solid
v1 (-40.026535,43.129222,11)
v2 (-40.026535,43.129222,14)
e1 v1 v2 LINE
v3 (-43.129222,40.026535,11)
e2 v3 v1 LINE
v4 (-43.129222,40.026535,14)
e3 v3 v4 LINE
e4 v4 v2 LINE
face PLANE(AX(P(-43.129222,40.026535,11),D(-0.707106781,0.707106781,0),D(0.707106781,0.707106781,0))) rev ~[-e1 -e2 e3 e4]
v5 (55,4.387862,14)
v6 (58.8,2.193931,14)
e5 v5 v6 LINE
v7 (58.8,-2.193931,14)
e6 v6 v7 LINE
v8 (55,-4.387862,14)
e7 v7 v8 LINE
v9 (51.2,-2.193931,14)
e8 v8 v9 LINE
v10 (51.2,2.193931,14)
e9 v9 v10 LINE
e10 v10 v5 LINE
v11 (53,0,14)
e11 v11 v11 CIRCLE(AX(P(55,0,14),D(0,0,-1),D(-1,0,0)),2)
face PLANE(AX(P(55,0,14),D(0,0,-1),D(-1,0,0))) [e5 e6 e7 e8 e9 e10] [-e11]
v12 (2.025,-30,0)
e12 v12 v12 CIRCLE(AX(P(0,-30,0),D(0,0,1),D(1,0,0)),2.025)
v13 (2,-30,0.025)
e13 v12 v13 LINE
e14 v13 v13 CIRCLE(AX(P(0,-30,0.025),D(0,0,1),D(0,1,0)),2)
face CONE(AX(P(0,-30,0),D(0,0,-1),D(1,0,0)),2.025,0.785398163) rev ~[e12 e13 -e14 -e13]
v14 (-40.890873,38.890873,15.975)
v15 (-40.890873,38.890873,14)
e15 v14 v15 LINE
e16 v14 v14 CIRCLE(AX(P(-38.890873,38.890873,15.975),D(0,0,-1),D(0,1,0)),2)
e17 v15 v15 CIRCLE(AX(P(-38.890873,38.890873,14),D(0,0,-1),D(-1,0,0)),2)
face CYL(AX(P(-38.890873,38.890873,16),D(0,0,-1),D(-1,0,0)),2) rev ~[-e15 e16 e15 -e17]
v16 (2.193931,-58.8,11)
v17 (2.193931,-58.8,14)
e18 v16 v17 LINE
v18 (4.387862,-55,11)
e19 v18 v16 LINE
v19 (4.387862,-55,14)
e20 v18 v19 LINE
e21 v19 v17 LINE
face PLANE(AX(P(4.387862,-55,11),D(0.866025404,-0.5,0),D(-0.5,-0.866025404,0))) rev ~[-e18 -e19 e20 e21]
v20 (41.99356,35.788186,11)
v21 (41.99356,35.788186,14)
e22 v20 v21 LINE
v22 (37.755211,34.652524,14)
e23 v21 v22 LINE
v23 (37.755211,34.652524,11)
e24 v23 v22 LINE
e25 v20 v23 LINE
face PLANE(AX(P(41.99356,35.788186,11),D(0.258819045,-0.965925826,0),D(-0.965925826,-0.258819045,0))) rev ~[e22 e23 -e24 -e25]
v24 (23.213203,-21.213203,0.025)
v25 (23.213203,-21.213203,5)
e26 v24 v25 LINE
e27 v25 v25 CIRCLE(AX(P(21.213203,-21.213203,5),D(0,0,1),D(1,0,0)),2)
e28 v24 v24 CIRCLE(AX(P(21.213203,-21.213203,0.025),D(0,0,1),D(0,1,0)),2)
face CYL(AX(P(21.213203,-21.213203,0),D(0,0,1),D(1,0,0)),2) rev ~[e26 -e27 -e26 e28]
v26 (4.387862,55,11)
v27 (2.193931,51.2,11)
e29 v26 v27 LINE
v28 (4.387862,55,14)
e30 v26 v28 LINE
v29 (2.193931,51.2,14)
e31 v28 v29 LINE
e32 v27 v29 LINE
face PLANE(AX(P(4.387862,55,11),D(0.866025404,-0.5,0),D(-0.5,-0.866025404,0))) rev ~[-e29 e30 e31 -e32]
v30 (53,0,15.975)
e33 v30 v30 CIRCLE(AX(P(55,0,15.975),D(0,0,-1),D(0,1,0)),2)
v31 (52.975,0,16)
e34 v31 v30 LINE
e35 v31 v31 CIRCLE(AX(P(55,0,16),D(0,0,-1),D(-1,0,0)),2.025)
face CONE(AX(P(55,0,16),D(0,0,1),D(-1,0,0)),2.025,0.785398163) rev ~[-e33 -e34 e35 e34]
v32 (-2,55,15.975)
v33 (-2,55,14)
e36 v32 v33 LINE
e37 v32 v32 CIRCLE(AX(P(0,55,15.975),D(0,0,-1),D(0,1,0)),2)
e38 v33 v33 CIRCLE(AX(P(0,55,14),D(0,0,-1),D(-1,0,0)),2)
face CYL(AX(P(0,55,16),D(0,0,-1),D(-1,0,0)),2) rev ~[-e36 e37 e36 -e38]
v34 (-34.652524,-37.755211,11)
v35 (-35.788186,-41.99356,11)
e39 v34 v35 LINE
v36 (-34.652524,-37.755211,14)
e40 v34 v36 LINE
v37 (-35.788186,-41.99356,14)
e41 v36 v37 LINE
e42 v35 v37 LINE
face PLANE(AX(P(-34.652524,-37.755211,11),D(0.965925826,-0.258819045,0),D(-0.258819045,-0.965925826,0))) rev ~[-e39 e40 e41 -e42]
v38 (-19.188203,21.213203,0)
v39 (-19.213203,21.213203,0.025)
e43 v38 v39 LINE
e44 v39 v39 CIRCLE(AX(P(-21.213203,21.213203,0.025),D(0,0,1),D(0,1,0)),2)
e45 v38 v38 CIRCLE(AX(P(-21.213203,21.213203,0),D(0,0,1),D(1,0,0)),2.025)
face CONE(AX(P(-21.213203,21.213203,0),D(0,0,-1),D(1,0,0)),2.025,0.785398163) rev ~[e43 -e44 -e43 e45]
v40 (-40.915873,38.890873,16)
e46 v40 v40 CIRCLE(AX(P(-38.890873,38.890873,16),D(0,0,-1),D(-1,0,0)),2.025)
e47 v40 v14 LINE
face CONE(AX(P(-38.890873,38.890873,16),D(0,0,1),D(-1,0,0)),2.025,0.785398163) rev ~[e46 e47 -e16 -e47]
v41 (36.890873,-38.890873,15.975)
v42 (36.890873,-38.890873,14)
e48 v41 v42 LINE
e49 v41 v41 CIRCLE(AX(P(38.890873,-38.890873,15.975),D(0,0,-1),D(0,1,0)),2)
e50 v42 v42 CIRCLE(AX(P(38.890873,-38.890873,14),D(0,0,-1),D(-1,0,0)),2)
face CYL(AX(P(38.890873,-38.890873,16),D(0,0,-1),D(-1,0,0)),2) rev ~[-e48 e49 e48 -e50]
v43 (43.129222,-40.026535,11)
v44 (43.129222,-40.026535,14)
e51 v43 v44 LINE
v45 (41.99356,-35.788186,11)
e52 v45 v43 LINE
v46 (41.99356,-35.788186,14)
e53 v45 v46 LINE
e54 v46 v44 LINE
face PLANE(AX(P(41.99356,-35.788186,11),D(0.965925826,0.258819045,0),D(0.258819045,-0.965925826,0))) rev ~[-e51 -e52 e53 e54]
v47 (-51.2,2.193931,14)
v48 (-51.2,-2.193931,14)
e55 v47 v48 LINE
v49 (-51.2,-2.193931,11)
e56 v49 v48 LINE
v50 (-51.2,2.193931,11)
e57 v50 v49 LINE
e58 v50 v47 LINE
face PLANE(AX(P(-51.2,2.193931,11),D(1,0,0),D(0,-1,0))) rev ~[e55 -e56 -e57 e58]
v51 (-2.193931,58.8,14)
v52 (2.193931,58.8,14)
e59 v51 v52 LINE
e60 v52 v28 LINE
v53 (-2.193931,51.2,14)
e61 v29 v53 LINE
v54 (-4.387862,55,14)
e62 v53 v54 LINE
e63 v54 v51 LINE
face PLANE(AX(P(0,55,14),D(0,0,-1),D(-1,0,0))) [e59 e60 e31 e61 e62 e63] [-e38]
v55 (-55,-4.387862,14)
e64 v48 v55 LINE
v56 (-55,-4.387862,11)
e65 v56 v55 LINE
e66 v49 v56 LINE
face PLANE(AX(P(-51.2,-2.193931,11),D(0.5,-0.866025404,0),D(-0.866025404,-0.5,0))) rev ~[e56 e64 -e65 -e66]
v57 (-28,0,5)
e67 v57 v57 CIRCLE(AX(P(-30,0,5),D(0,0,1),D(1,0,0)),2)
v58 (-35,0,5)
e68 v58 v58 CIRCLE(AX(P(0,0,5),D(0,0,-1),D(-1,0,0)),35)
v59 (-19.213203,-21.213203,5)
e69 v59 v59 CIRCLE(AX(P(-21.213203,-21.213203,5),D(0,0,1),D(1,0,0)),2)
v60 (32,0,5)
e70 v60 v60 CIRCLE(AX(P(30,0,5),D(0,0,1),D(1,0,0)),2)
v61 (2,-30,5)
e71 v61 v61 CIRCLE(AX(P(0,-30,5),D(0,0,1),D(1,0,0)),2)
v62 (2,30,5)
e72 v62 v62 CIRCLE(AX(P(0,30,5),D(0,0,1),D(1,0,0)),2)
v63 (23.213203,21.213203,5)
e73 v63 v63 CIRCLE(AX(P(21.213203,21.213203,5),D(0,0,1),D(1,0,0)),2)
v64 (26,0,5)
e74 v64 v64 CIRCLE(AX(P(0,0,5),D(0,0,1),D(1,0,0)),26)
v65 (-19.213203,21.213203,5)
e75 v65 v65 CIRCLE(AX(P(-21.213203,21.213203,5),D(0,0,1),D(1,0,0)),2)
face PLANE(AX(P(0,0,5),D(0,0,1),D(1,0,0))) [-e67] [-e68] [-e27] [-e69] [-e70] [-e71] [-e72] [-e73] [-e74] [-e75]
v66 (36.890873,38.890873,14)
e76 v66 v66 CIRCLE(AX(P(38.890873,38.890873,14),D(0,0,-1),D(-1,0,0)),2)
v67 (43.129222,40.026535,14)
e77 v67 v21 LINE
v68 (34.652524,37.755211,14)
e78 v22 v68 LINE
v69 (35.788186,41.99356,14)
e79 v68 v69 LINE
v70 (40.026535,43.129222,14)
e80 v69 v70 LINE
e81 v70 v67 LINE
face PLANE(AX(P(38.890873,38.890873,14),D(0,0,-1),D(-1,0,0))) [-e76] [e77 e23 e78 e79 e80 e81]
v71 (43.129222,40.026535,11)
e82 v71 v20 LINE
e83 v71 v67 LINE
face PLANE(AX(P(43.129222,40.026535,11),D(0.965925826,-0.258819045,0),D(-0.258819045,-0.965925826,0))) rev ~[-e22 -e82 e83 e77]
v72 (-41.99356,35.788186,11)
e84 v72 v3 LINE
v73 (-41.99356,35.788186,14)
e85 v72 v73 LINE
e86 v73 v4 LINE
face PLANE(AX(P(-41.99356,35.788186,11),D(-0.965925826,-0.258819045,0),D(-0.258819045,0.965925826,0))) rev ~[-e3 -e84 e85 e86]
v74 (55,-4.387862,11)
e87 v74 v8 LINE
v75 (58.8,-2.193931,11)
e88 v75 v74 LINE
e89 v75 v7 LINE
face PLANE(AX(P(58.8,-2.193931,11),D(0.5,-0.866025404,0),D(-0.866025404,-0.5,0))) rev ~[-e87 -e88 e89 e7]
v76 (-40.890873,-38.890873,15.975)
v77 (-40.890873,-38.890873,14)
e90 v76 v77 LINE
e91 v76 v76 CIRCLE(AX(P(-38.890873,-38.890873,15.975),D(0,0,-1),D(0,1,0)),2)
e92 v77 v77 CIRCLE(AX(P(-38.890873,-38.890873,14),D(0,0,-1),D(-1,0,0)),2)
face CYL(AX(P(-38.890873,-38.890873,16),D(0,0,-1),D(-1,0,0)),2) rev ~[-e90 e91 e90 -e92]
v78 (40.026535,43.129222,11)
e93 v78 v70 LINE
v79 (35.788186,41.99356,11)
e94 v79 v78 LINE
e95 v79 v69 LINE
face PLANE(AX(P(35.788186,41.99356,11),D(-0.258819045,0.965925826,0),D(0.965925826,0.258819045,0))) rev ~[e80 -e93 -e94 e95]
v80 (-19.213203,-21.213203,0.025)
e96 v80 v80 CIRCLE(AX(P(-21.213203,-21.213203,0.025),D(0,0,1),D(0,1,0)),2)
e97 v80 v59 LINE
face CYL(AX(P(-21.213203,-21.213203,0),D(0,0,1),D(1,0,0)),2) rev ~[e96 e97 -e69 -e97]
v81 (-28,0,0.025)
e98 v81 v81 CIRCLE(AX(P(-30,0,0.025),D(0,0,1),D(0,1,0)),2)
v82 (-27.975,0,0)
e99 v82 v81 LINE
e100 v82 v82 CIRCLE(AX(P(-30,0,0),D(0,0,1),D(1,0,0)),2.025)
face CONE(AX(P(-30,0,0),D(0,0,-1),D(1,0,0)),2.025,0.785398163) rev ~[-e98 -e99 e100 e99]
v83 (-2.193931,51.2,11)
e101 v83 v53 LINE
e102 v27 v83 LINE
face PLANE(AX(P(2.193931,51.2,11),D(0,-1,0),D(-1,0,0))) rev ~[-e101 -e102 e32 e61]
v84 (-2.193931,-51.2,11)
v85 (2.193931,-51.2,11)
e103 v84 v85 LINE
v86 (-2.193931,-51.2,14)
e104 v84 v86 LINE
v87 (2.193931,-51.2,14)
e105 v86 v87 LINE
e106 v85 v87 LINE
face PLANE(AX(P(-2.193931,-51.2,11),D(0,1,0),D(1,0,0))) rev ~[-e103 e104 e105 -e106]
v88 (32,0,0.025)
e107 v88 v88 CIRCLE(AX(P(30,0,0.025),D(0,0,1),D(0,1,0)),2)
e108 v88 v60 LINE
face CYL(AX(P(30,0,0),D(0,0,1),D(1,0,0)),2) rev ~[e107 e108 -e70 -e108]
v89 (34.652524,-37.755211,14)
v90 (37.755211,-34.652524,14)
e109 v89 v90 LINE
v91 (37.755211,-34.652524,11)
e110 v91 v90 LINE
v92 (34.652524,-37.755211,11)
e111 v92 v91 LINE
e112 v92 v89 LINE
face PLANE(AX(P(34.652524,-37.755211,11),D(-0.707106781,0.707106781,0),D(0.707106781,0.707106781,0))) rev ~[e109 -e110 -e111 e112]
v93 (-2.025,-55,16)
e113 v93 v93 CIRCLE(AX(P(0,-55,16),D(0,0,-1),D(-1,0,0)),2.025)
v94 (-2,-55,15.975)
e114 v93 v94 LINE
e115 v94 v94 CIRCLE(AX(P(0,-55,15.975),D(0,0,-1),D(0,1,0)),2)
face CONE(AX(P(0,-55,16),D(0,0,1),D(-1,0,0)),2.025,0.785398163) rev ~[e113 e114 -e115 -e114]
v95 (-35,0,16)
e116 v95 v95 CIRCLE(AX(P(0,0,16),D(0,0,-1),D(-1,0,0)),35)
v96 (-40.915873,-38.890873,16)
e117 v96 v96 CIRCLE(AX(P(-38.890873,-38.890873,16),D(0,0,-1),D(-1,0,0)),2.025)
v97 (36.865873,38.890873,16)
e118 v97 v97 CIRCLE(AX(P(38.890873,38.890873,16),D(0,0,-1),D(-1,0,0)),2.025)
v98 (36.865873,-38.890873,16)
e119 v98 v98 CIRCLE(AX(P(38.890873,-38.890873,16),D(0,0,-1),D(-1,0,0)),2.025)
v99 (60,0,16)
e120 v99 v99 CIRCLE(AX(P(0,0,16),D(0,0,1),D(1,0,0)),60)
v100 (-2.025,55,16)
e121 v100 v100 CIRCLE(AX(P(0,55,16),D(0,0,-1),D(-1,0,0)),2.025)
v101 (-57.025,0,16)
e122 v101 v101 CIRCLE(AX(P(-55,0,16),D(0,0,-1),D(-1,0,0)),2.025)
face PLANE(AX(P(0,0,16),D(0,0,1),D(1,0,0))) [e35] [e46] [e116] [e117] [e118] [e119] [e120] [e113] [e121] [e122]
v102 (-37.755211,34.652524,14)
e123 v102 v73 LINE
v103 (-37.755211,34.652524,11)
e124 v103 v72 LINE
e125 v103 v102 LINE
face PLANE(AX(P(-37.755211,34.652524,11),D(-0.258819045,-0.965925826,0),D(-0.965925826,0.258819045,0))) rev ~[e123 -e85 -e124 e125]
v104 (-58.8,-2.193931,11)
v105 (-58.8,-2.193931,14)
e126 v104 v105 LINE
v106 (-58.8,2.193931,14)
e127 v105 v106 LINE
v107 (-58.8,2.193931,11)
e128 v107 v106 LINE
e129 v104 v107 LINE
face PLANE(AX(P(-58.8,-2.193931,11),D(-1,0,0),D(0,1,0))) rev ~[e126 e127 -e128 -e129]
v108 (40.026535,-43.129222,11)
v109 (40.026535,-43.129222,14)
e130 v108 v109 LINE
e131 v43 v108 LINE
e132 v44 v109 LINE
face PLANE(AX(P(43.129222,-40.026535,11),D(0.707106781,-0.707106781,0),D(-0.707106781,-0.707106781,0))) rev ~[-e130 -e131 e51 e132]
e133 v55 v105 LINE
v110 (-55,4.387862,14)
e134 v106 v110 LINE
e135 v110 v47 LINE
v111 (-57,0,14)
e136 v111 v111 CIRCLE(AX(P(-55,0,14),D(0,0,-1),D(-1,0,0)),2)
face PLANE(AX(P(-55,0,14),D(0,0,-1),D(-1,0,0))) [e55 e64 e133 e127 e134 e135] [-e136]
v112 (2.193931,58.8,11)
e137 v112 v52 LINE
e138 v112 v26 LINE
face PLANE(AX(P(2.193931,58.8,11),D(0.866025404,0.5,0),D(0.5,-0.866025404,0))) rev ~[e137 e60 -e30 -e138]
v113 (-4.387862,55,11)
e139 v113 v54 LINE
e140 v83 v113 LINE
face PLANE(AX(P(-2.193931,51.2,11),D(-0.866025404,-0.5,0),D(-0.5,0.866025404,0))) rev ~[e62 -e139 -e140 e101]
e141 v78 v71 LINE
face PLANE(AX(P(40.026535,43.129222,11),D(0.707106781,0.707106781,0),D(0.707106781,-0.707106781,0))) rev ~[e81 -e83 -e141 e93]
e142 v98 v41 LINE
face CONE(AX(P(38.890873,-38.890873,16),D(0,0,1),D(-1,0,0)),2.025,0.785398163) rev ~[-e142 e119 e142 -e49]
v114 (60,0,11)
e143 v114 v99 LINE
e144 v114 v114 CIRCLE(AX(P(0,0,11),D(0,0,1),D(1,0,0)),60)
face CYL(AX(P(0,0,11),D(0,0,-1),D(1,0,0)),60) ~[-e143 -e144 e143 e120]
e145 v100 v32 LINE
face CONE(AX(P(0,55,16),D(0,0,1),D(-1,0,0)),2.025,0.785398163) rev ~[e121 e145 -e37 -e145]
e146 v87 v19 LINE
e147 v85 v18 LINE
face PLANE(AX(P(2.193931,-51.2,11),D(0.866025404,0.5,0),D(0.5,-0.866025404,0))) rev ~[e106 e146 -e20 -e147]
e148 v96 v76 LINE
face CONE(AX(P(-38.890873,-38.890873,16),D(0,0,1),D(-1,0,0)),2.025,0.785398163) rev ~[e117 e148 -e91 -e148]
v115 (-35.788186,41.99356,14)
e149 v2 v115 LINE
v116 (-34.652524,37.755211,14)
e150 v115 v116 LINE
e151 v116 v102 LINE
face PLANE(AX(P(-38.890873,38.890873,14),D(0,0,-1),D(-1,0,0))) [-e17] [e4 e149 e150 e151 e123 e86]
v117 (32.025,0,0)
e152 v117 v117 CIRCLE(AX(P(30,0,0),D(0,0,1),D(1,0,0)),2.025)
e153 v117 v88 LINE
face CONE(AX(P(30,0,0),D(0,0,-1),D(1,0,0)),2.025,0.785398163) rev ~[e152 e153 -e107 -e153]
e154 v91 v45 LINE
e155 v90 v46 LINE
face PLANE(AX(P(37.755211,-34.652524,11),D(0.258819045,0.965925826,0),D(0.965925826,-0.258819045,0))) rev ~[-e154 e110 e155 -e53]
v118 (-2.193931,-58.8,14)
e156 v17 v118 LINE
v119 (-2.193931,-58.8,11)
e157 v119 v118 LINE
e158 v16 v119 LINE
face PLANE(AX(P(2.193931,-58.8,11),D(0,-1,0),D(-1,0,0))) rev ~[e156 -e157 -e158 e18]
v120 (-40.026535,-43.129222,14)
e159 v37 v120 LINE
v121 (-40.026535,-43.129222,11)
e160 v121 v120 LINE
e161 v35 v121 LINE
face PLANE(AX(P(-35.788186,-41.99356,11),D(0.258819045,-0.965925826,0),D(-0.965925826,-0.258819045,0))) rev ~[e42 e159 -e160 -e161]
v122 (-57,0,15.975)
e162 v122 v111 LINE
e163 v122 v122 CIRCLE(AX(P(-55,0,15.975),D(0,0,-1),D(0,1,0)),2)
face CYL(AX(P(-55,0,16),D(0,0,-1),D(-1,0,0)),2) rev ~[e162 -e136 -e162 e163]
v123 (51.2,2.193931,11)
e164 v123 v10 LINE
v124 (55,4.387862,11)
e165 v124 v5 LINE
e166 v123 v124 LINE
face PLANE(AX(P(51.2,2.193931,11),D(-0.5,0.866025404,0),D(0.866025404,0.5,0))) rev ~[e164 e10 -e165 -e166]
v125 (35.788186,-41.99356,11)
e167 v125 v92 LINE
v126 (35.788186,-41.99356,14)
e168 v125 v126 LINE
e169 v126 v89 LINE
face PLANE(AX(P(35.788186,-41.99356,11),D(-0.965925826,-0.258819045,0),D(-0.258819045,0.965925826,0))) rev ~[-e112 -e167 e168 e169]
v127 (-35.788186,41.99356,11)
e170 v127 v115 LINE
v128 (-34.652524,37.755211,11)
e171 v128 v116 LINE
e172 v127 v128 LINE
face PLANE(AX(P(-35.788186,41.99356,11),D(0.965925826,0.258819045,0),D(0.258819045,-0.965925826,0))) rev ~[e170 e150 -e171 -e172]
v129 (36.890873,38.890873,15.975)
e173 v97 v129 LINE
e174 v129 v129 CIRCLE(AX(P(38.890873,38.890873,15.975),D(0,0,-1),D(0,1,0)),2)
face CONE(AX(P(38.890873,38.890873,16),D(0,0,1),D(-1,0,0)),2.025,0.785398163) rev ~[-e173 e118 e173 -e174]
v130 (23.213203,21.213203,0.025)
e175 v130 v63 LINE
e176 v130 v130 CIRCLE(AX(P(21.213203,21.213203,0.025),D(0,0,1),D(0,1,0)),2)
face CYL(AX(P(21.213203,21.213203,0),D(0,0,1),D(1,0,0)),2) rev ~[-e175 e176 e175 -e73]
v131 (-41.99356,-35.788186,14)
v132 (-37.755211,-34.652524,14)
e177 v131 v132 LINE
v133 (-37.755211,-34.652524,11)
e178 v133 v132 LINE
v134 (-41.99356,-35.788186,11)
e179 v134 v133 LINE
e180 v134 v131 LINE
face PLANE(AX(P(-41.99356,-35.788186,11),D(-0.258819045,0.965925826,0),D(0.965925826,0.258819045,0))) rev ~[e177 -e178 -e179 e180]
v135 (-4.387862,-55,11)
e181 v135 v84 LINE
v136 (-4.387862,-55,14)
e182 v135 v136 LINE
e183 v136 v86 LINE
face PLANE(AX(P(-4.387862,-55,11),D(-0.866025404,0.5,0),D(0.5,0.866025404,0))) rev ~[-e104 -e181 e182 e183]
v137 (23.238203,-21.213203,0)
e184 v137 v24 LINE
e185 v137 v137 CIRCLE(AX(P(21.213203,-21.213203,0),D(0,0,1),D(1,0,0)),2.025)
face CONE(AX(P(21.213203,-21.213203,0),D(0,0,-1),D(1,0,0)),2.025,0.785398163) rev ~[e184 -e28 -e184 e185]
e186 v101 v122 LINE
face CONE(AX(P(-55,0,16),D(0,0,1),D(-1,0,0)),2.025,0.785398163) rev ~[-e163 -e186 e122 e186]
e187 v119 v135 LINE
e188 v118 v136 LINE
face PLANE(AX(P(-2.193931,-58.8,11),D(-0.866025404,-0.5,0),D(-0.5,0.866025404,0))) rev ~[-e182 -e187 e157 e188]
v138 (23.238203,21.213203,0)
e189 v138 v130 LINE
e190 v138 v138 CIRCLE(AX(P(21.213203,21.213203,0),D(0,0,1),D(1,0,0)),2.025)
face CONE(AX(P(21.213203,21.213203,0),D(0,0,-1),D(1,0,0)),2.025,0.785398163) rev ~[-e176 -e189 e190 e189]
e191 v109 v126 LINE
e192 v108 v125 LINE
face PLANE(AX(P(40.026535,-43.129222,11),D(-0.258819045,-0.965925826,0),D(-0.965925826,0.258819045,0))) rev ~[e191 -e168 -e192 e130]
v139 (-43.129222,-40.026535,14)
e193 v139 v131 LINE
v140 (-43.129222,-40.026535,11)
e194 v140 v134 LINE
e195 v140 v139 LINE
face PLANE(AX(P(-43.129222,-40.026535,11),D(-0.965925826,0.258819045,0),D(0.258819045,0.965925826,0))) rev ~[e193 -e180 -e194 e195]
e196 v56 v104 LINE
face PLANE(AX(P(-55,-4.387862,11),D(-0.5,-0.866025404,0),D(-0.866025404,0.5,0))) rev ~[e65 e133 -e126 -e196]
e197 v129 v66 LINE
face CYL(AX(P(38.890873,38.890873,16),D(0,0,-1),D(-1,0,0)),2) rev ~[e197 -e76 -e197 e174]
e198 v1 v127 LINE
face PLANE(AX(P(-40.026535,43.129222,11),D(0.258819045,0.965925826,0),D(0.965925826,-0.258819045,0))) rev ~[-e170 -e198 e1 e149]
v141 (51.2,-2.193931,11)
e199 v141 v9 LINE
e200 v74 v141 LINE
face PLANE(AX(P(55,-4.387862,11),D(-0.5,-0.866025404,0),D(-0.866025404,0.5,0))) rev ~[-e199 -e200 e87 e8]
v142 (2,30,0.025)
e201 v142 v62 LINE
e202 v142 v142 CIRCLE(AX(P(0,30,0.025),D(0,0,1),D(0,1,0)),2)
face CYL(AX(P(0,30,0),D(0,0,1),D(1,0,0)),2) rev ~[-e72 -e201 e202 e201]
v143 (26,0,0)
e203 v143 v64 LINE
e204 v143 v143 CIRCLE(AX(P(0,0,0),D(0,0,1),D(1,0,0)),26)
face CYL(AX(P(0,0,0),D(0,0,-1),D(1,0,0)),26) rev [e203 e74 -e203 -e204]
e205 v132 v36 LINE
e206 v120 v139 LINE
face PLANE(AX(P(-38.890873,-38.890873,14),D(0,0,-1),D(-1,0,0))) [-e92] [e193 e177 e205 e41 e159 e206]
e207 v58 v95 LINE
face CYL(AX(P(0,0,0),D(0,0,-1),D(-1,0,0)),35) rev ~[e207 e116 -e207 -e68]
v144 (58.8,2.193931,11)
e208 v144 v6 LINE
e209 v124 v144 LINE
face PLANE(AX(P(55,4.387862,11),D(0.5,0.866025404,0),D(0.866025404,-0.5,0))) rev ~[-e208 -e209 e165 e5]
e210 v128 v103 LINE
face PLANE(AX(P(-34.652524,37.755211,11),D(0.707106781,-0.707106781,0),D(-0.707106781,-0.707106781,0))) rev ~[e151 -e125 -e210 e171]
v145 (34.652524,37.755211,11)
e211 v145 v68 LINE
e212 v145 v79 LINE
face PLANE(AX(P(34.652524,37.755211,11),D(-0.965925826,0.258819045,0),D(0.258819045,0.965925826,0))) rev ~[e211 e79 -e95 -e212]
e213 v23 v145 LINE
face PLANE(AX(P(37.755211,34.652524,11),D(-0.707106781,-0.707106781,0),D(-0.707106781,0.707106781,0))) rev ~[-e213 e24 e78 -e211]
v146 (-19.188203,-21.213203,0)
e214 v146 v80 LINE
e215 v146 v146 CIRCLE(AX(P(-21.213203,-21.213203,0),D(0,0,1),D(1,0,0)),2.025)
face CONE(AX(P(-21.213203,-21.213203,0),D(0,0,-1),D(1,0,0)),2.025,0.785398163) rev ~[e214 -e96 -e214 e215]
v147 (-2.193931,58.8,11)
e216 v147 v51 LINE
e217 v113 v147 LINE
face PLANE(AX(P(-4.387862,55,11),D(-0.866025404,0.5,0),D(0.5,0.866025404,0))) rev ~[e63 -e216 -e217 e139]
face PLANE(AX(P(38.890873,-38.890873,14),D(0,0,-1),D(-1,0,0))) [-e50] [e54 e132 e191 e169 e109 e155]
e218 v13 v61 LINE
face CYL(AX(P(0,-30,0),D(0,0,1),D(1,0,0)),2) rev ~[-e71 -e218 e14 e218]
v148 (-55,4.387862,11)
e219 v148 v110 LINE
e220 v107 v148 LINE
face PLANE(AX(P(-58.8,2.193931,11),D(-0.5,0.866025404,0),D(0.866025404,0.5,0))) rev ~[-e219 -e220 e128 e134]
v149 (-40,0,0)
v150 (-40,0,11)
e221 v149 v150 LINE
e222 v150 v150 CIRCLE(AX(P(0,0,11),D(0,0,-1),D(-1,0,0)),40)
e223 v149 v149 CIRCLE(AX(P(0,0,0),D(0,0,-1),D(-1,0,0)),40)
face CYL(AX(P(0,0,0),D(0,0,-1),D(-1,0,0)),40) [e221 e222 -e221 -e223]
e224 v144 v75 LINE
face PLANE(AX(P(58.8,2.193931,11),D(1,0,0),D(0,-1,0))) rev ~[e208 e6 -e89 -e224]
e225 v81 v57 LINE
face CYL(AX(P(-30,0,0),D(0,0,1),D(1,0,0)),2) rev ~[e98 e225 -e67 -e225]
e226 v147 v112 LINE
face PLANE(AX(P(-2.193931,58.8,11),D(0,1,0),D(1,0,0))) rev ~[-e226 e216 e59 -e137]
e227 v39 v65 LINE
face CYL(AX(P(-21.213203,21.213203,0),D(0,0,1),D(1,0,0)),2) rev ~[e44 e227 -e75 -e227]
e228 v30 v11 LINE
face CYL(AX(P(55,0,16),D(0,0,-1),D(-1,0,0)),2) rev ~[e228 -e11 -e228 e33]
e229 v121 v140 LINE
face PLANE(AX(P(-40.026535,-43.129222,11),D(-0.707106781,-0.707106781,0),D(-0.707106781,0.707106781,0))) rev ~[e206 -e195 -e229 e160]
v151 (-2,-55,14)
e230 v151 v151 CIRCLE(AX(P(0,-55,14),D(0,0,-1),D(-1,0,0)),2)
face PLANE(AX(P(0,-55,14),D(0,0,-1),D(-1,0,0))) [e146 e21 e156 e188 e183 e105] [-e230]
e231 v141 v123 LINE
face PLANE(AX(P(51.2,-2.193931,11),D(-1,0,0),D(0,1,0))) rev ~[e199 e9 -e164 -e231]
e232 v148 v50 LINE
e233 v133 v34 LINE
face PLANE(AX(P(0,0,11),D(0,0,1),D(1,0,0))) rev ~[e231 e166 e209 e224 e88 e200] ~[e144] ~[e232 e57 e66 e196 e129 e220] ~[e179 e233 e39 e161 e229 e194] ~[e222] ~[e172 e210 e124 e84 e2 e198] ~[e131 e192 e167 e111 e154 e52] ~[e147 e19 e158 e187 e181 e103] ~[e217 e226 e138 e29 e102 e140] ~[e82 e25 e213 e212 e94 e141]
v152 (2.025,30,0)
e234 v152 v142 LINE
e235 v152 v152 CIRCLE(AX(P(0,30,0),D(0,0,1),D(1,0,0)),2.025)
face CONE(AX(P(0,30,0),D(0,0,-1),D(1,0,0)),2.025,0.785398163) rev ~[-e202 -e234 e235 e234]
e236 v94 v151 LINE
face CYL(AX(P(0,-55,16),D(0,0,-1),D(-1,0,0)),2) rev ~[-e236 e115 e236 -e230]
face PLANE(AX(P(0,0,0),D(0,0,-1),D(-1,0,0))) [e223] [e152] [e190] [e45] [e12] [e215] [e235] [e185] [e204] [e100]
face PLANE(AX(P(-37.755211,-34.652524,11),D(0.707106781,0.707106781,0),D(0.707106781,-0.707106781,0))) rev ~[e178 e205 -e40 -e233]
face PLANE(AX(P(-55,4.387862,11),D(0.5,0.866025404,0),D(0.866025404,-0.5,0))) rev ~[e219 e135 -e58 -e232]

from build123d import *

# Parameters (mm, degrees)
SKETCH1_R                       = 35
SKETCH1_R_2                     = 26
BOSS_EXTRUDE1_DEPTH             = 5
F_4_0MM_DOWEL_HOLE1_D           = 4
F_4_0MM_DOWEL_HOLE1_CSINK_D     = 4.05
F_4_0MM_DOWEL_HOLE1_CSINK_ANGLE = 90
SKETCH5_R                       = 40
SKETCH5_R_2                     = 35
BOSS_EXTRUDE2_DEPTH             = 16
BOSS_EXTRUDE3_START             = -5
SKETCH6_R                       = 60
SKETCH6_R_2                     = 35
BOSS_EXTRUDE3_DEPTH             = 5
F_4_0MM_DOWEL_HOLE2_D           = 4
F_4_0MM_DOWEL_HOLE2_CSINK_D     = 4.05
F_4_0MM_DOWEL_HOLE2_CSINK_ANGLE = 90
CUT_EXTRUDE3_DEPTH              = 3


with BuildPart() as part:
    # Sketch1 → Boss-Extrude1 (new body)
    with BuildSketch(Plane.XY):
        Circle(SKETCH1_R)
        Circle(SKETCH1_R_2, mode=Mode.SUBTRACT)
    extrude(amount=BOSS_EXTRUDE1_DEPTH)

    # Ø4.0mm Dowel Hole1 (through all)
    with Locations(Plane(origin=(0, 0, 0), x_dir=(-1, 0, 0), z_dir=(0, 0, -1))):
        with Locations((21.213203436, 21.213203436), (0, 30), (-21.213203436, 21.213203436), (-30, 0), (-21.213203436, -21.213203436), (0, -30), (21.213203436, -21.213203436), (30, 0)):
            CounterSinkHole(F_4_0MM_DOWEL_HOLE1_D / 2, F_4_0MM_DOWEL_HOLE1_CSINK_D / 2, counter_sink_angle=F_4_0MM_DOWEL_HOLE1_CSINK_ANGLE)

    # Sketch5 → Boss-Extrude2 (add)
    with BuildSketch(Plane(origin=(0, 0, 0), x_dir=(-1, 0, 0), z_dir=(0, 0, -1))):
        Circle(SKETCH5_R)
        Circle(SKETCH5_R_2, mode=Mode.SUBTRACT)
    extrude(amount=-BOSS_EXTRUDE2_DEPTH)

    # Sketch6 → Boss-Extrude3 (add)
    with BuildSketch(Plane.XY.offset(16).offset(BOSS_EXTRUDE3_START)):
        Circle(SKETCH6_R)
        with Locations(Location((0, 0, 0), (0, 0, 180))):
            Circle(SKETCH6_R_2, mode=Mode.SUBTRACT)
    extrude(amount=BOSS_EXTRUDE3_DEPTH)

    # Ø4.0mm Dowel Hole2 (through all)
    with Locations(Plane.XY.offset(16)):
        with Locations((0, 55), (-38.890872965, 38.890872965), (-55, 0), (-38.890872965, -38.890872965), (0, -55), (38.890872965, -38.890872965), (55, 0), (38.890872965, 38.890872965)):
            CounterSinkHole(F_4_0MM_DOWEL_HOLE2_D / 2, F_4_0MM_DOWEL_HOLE2_CSINK_D / 2, counter_sink_angle=F_4_0MM_DOWEL_HOLE2_CSINK_ANGLE)

    # Sketch11 → Cut-Extrude3 (cut)
    with BuildSketch(Plane(origin=(0, 0, 11), x_dir=(-1, 0, 0), z_dir=(0, 0, -1))):
        Polygon((-37.755210701, 34.652523693), (-34.652523693, 37.755210701), (-35.788185958, 41.993559973), (-40.02653523, 43.129222238), (-43.129222238, 40.02653523), (-41.993559973, 35.788185958), align=None)
        Polygon((-2.193931023, 51.2), (2.193931023, 51.2), (4.387862046, 55), (2.193931023, 58.8), (-2.193931023, 58.8), (-4.387862046, 55), align=None)
        Polygon((34.652523693, 37.755210701), (37.755210701, 34.652523693), (41.993559973, 35.788185958), (43.129222238, 40.02653523), (40.02653523, 43.129222238), (35.788185958, 41.993559973), align=None)
        Polygon((-51.2, -2.193931023), (-51.2, 2.193931023), (-55, 4.387862046), (-58.8, 2.193931023), (-58.8, -2.193931023), (-55, -4.387862046), align=None)
        Polygon((51.2, 2.193931023), (51.2, -2.193931023), (55, -4.387862046), (58.8, -2.193931023), (58.8, 2.193931023), (55, 4.387862046), align=None)
        Polygon((37.755210701, -34.652523693), (34.652523693, -37.755210701), (35.788185958, -41.993559973), (40.02653523, -43.129222238), (43.129222238, -40.02653523), (41.993559973, -35.788185958), align=None)
        Polygon((2.193931023, -51.2), (-2.193931023, -51.2), (-4.387862046, -55), (-2.193931023, -58.8), (2.193931023, -58.8), (4.387862046, -55), align=None)
        Polygon((-34.652523693, -37.755210701), (-37.755210701, -34.652523693), (-41.993559973, -35.788185958), (-43.129222238, -40.02653523), (-40.02653523, -43.129222238), (-35.788185958, -41.993559973), align=None)
    extrude(amount=-CUT_EXTRUDE3_DEPTH, mode=Mode.SUBTRACT)


solid = part.part
